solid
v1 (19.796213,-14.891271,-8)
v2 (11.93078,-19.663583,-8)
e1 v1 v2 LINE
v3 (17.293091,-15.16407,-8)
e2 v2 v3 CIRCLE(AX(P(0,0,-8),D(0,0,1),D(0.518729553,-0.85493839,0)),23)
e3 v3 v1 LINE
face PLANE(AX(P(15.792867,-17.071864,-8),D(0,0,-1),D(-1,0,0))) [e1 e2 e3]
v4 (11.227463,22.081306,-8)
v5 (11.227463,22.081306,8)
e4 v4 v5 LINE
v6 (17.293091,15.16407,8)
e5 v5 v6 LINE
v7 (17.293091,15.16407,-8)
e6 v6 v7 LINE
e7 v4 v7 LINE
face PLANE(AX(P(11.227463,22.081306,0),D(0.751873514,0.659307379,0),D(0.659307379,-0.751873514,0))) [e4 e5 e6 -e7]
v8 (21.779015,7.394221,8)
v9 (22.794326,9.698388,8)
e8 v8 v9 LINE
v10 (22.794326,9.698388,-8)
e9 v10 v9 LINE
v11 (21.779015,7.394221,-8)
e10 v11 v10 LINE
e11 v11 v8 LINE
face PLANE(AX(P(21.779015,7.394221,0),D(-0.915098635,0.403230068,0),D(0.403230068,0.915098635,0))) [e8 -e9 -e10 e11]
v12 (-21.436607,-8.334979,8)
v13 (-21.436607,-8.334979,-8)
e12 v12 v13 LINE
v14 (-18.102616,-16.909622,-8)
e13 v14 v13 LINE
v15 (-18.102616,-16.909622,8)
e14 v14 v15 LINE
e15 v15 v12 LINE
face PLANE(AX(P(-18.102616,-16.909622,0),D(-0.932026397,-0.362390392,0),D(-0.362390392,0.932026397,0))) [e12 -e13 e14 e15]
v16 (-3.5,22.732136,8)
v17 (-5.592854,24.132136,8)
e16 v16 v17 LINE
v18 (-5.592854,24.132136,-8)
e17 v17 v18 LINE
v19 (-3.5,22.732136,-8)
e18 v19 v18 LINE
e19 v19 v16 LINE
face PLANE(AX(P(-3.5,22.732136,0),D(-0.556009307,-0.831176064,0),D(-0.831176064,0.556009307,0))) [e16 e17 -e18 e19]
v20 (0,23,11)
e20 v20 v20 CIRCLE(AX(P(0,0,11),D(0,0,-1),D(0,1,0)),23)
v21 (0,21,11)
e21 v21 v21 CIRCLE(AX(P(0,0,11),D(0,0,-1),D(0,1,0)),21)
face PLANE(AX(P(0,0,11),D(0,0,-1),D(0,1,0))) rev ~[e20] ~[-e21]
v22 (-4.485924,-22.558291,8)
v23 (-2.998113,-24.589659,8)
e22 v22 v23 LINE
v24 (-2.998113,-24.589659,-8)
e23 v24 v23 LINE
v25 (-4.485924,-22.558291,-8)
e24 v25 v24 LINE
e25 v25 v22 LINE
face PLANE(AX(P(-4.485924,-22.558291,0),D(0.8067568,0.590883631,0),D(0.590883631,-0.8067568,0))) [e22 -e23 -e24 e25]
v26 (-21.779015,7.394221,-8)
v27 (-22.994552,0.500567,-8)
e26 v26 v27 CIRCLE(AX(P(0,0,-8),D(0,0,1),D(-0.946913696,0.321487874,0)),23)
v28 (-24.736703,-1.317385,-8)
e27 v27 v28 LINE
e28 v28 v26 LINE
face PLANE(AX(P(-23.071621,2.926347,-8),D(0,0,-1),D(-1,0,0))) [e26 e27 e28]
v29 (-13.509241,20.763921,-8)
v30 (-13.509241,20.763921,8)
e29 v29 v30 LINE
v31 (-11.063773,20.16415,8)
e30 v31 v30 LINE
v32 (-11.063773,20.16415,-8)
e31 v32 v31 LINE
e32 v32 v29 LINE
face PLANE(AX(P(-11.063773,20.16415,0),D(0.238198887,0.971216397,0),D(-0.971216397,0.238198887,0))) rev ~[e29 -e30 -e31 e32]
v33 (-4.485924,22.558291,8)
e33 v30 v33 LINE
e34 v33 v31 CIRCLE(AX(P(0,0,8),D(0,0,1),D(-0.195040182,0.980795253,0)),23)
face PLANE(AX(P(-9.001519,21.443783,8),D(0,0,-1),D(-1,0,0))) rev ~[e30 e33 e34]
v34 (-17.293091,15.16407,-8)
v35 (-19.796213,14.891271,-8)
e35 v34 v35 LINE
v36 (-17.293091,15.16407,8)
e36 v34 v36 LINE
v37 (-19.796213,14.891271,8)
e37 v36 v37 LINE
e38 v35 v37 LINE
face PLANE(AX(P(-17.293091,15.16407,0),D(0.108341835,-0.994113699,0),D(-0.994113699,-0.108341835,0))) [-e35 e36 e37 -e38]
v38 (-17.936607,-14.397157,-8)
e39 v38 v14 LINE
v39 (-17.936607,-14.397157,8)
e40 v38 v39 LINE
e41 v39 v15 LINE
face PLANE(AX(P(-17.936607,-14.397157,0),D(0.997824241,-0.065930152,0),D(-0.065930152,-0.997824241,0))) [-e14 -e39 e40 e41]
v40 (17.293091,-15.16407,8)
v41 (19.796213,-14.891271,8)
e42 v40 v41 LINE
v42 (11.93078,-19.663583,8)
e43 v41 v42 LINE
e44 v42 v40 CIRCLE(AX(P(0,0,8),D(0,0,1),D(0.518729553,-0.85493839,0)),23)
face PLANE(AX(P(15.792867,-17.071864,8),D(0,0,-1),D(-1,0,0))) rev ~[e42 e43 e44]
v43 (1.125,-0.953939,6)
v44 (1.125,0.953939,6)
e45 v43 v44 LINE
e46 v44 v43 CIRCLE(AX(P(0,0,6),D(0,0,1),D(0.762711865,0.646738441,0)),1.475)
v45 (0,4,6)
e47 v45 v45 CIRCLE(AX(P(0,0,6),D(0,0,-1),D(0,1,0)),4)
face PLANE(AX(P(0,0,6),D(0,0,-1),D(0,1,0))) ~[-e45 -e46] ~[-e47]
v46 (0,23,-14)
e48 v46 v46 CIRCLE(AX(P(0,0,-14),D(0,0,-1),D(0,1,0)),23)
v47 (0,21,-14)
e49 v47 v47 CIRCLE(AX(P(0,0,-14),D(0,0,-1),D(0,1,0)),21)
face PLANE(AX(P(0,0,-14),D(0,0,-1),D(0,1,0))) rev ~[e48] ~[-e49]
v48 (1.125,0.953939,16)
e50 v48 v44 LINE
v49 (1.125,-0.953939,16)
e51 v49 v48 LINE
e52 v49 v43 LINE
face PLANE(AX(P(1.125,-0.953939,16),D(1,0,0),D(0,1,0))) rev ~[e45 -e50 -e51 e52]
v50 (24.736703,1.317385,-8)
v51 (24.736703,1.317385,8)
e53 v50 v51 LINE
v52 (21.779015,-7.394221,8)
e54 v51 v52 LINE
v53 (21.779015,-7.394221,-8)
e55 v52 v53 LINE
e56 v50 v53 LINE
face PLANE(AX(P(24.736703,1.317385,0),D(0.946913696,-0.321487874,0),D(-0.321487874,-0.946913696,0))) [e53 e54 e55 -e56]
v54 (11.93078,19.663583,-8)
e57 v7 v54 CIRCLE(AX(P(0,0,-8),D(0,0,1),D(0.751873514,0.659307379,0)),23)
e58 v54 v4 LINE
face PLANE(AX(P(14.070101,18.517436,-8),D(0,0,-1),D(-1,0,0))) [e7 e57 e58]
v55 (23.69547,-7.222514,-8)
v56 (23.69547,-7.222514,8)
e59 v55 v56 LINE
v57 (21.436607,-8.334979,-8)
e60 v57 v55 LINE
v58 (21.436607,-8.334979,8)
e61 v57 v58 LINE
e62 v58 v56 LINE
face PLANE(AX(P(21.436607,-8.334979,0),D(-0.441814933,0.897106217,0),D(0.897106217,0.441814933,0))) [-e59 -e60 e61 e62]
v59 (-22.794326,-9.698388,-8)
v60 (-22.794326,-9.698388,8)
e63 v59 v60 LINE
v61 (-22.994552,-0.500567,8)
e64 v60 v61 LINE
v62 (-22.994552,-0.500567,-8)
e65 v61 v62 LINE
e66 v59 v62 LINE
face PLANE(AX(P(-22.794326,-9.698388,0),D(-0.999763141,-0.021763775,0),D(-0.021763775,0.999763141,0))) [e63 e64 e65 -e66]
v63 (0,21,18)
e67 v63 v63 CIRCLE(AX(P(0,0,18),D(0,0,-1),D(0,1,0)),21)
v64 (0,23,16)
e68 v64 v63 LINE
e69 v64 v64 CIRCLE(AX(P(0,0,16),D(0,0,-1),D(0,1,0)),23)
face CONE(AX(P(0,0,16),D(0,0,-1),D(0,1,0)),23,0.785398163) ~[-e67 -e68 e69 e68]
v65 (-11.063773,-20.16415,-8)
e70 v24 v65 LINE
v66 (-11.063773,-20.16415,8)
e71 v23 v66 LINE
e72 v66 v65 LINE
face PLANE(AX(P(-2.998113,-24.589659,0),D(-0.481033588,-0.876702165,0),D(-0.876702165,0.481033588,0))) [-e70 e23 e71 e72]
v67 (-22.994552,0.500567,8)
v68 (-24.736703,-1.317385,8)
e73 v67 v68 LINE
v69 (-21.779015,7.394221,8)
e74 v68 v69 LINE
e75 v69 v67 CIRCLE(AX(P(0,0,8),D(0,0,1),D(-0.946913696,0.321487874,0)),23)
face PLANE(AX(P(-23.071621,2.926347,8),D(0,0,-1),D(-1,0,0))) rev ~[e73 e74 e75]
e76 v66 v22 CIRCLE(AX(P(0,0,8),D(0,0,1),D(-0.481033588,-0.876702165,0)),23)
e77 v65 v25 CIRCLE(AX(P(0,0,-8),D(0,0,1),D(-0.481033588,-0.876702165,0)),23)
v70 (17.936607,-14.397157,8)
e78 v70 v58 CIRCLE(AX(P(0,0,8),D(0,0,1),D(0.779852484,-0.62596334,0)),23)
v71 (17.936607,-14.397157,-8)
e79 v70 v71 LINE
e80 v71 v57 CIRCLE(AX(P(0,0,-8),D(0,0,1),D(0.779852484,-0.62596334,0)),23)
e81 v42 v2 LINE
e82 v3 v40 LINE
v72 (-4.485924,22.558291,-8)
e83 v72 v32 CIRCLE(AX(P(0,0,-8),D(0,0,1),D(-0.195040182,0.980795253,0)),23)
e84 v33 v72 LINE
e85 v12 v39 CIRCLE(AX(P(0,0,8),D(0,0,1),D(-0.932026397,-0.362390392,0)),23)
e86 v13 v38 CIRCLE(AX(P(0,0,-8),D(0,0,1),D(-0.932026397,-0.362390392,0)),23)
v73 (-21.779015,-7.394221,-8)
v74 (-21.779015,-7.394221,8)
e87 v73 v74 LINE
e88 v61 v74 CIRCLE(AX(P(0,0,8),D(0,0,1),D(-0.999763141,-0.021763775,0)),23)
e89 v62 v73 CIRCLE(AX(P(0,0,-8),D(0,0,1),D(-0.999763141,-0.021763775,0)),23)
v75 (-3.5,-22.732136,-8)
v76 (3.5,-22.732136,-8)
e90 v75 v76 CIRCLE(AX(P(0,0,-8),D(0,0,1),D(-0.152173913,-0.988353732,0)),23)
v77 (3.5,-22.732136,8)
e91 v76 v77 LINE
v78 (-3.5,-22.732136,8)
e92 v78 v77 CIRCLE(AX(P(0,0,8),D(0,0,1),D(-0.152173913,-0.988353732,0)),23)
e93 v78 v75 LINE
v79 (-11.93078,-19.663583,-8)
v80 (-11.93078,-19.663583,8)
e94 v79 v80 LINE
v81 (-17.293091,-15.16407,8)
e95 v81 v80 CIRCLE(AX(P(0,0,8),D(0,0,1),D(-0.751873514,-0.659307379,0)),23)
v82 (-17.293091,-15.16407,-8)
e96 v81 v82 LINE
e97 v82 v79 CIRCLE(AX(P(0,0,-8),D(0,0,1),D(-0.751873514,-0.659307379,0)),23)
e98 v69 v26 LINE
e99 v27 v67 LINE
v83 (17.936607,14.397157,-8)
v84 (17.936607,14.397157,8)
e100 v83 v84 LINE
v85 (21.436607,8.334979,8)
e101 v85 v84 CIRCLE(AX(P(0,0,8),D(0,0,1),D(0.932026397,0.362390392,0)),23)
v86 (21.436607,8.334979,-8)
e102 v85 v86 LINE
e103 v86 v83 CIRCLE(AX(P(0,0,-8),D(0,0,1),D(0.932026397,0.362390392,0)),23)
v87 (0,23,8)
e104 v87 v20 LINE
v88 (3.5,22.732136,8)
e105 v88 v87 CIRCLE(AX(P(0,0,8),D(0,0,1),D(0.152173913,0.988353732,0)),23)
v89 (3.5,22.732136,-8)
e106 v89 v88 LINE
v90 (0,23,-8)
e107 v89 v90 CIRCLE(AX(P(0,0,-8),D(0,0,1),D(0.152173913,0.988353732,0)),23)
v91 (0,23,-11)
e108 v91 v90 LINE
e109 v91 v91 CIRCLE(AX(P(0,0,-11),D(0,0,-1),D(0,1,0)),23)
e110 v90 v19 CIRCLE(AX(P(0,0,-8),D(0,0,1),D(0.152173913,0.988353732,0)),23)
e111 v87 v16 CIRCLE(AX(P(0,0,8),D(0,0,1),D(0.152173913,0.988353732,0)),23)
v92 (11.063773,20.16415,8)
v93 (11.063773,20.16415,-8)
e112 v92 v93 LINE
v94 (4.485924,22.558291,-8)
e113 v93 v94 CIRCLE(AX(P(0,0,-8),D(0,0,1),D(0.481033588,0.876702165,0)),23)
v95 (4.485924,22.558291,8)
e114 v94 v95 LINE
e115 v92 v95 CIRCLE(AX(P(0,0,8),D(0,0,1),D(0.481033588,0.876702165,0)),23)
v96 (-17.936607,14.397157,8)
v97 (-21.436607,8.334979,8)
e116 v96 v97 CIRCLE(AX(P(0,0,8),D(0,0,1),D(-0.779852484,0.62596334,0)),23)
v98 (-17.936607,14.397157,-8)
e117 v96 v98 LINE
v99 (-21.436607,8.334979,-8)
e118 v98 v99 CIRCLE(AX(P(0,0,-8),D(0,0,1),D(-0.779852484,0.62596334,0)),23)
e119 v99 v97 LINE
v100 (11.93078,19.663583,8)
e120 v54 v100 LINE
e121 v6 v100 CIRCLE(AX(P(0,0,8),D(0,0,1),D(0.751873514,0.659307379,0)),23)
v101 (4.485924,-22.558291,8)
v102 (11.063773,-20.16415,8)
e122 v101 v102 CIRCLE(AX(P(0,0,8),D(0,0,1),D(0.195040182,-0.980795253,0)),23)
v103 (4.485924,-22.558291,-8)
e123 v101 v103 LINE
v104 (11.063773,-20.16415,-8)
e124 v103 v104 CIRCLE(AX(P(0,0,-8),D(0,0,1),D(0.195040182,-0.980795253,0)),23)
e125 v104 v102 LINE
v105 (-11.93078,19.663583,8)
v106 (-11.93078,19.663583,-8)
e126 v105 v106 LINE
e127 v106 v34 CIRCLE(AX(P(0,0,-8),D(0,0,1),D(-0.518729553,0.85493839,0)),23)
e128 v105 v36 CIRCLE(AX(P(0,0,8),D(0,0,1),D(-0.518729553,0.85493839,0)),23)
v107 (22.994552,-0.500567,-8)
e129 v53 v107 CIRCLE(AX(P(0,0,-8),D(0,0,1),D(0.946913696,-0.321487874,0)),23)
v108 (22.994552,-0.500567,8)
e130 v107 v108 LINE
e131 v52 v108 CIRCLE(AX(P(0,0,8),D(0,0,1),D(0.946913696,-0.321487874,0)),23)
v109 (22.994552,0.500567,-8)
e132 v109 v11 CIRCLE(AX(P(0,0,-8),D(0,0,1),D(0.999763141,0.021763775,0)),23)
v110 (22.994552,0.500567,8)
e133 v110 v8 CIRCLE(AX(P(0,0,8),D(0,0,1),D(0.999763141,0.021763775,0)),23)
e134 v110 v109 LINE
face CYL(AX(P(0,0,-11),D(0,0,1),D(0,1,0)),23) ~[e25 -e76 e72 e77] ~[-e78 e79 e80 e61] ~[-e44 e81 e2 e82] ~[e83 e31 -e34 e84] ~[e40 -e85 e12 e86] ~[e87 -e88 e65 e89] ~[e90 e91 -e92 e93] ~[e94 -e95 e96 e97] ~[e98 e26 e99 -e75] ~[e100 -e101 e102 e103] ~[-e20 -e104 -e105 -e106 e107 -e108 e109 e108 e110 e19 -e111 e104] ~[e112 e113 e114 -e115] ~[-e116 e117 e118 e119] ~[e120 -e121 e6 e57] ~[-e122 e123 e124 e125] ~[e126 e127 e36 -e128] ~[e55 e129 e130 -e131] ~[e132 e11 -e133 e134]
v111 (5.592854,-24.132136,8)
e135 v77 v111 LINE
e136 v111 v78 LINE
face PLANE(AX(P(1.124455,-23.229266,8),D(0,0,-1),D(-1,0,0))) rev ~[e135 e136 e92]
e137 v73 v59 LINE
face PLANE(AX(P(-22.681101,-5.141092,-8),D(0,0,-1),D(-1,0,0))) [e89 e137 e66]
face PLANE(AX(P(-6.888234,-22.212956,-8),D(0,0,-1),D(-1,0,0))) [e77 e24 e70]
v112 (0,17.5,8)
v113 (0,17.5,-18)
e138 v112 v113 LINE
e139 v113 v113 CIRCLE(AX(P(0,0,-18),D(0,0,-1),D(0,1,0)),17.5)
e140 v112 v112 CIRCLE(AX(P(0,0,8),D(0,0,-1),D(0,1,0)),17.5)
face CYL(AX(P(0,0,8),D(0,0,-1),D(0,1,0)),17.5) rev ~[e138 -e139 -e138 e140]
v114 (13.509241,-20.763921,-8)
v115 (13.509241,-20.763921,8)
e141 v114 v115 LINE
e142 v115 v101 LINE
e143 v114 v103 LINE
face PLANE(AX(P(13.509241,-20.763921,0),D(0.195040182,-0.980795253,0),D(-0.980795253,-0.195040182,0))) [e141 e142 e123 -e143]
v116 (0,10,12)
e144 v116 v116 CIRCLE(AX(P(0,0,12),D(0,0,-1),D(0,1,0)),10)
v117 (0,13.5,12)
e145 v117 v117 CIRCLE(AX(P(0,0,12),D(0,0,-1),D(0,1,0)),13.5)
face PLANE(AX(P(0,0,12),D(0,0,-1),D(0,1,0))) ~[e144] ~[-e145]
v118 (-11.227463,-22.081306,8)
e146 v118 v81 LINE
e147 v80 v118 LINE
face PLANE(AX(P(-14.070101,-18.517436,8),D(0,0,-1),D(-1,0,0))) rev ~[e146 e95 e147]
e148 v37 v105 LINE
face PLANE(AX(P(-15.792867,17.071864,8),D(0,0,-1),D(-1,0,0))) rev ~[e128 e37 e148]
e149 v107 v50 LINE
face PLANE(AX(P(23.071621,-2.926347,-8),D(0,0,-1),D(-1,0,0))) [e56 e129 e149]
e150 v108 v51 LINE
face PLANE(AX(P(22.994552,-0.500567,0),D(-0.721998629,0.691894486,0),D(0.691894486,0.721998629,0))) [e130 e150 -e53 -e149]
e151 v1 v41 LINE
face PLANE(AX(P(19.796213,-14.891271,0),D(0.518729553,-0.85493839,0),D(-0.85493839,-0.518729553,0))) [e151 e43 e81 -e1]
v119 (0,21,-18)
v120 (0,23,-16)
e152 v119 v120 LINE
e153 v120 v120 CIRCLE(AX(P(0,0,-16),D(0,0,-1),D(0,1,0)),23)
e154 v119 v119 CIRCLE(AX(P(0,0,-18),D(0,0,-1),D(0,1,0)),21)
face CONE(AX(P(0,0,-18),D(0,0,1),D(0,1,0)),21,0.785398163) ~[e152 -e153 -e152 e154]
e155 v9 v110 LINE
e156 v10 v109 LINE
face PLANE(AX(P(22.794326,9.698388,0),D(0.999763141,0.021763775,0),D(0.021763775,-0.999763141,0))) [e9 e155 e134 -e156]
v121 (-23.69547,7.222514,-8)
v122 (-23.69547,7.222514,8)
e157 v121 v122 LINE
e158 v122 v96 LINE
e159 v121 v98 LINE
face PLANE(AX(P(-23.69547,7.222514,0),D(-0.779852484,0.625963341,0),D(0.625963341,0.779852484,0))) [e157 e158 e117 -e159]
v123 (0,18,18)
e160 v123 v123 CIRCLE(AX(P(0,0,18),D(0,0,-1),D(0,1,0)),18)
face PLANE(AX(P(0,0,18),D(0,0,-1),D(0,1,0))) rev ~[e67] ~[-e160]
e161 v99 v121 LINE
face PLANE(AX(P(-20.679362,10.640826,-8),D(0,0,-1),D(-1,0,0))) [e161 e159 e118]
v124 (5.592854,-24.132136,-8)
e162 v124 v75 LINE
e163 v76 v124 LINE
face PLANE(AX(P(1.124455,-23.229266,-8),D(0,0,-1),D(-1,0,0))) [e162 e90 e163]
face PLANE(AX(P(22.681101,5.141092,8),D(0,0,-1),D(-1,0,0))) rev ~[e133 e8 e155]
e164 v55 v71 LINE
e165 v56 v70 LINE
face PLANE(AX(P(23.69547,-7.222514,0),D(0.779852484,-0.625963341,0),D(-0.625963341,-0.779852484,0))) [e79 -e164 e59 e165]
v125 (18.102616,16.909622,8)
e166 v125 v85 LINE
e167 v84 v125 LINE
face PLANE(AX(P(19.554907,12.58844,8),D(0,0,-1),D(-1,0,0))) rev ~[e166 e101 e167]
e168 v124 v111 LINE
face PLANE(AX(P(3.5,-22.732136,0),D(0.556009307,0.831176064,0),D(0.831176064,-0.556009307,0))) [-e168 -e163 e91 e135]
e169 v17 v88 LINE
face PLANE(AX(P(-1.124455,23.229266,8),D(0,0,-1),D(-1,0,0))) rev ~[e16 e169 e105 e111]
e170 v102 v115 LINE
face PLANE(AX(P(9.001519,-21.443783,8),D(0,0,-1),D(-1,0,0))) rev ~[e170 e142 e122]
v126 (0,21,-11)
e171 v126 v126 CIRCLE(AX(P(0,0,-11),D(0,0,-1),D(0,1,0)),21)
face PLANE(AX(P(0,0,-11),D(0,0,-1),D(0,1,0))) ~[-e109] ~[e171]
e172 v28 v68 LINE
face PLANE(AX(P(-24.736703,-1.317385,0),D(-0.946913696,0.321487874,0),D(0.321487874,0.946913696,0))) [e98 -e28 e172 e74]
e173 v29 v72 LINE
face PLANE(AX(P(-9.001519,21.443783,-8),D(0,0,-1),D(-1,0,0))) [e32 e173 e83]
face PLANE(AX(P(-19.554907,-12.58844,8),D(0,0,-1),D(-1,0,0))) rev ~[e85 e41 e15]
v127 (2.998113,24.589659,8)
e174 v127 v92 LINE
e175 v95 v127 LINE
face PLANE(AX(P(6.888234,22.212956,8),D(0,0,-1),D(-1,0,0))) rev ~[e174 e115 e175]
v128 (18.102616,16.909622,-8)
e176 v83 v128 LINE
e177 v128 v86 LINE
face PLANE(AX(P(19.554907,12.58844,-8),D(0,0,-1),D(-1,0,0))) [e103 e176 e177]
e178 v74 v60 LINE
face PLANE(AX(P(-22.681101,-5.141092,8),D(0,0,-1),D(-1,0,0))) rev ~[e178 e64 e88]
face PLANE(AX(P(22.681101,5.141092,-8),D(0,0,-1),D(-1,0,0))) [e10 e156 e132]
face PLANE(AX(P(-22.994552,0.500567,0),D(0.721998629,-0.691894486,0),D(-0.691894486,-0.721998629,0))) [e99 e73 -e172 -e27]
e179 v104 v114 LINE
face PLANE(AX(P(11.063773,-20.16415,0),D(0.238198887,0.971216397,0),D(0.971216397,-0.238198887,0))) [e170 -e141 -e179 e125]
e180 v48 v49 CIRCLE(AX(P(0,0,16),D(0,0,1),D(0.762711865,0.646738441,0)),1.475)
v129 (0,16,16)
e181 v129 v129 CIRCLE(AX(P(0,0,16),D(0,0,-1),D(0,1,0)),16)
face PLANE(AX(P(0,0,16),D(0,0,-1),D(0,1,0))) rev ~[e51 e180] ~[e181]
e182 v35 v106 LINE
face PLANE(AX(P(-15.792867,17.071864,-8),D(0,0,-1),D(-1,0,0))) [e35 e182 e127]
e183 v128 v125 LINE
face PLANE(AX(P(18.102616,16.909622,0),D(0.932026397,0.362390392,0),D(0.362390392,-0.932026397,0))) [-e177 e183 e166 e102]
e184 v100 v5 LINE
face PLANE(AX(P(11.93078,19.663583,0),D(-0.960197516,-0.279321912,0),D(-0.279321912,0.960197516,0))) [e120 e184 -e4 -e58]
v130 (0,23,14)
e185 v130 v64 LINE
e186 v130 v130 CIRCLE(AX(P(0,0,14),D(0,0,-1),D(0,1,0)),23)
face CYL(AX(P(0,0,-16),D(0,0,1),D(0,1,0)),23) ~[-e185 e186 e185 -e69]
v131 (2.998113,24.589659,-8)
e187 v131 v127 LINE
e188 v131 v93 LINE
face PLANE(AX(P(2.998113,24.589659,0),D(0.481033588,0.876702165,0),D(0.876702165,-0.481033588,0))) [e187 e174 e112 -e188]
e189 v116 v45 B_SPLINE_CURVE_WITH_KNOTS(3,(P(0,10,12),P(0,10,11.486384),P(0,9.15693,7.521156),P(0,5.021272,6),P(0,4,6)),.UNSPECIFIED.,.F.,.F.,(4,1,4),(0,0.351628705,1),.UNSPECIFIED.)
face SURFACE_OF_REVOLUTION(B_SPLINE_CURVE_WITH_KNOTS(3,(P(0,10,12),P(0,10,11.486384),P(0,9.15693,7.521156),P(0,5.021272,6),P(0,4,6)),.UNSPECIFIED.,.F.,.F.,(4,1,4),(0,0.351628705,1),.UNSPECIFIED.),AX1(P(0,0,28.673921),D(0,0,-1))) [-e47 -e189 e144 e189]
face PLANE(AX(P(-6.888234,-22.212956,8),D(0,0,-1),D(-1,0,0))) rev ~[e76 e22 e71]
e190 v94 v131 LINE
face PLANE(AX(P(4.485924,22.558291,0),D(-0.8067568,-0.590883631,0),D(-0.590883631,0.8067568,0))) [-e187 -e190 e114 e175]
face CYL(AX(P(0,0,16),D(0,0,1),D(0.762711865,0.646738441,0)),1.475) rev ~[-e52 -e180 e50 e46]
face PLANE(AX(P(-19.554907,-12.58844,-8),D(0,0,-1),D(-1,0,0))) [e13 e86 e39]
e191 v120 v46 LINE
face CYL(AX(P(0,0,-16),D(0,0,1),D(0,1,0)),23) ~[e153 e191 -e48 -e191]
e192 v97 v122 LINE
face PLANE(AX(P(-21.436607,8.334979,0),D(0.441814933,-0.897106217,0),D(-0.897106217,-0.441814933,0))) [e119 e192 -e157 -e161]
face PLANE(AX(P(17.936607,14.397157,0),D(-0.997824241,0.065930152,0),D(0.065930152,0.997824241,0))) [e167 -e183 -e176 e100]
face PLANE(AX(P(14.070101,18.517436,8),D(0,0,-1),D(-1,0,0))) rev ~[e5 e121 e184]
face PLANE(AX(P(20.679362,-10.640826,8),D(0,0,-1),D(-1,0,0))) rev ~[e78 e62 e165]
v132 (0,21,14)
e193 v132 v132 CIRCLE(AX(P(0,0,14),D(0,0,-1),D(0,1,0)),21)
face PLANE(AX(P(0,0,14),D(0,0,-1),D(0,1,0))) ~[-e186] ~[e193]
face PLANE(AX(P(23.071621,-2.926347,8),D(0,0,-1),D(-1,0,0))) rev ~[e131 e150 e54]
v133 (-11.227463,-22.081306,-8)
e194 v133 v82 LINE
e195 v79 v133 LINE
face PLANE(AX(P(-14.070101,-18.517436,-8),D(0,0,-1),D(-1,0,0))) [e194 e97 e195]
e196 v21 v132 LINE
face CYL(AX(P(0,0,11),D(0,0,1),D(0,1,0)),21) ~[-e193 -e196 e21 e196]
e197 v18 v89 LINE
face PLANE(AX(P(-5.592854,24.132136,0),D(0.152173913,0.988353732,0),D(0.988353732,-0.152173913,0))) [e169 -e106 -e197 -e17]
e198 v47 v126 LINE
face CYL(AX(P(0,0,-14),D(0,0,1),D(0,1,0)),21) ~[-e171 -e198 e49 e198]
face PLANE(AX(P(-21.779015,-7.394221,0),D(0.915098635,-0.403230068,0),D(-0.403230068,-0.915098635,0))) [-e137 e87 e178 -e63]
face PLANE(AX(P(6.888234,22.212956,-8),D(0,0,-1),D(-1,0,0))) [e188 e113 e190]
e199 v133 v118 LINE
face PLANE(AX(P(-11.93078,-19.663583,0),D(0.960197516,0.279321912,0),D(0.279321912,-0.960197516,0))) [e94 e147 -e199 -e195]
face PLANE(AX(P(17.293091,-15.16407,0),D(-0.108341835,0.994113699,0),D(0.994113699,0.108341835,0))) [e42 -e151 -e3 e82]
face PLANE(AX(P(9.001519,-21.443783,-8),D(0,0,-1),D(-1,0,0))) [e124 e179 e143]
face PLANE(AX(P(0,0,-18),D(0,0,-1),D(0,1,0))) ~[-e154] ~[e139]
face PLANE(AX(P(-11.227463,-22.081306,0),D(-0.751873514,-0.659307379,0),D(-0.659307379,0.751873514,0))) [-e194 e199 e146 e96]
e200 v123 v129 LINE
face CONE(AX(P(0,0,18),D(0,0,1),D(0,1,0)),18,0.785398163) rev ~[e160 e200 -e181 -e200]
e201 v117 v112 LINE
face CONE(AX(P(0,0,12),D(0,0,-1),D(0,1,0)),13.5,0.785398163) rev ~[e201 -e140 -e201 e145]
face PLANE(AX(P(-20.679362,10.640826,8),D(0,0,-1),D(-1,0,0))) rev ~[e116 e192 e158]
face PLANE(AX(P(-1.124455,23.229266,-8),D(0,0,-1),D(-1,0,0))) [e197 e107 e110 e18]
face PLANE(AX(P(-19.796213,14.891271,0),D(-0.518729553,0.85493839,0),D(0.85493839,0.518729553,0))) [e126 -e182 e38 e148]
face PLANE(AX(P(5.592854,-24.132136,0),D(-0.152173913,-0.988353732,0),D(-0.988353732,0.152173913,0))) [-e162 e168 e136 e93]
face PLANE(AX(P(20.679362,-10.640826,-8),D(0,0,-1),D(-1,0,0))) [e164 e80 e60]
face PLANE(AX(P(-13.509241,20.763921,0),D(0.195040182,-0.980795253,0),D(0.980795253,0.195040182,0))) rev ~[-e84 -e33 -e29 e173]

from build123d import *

# Parameters (mm, degrees)
CUT_EXTRUDE_1_DEPTH = 48.053161424
EXTRUDE_1_DEPTH     = 8


with BuildPart() as part:
    # Эскиз1 → Повернуть1 (revolve)
    with BuildSketch(Plane(origin=(0, 0, 0), x_dir=(0, 0, -1), z_dir=(1, 0, 0))):
        with BuildLine():
            Line((16, 23), (0, 23))
            Line((0, 23), (-16, 23))
            Line((-16, 23), (-18, 21))
            Line((-18, 21), (-18, 18))
            Line((-18, 18), (-16, 16))
            Line((-16, 16), (-16, 0))
            Line((-16, 0), (-14.334262465, 0))
            Line((-14.334262465, 0), (-6, 0))
            Line((-6, 0), (-6, 4))
            add(Edge.make_bspline(
                [(-12, 10), (-11.486384316, 10), (-7.521156143, 9.156929615), (-6, 5.021272174), (-6, 4)],
                knots=[0, 0, 0, 0, 0.351628705, 1, 1, 1, 1], degree=3))
            Line((-12, 10), (-12, 13.5))
            Line((-12, 13.5), (-8, 17.5))
            Line((-8, 17.5), (18, 17.5))
            Line((18, 17.5), (18, 21))
            Line((18, 21), (16, 23))
        make_face()
    revolve(axis=Axis((0, 0, 28.673920663), (0, 0, -1)))

    # Эскиз2 → Вырез-Вытянуть1 (cut, through all)
    with BuildSketch(Plane.XY.offset(16)):
        with BuildLine():
            Line((1.125, -0.953939201), (1.125, 0.953939201))
            ThreePointArc((1.125, 0.953939201), (-1.475, 0), (1.125, -0.953939201))
        make_face()
    extrude(amount=-CUT_EXTRUDE_1_DEPTH, mode=Mode.SUBTRACT)

    # Эскиз3 → Вырез-Повернуть1 (revolve, cut)
    with BuildSketch(Plane(origin=(0, 0, 0), x_dir=(0, 0, -1), z_dir=(1, 0, 0))):
        Polygon((18, 21), (16, 23), (14, 23), (14, 21), (11, 21), (11, 23), (-11, 23), (-11, 21), (-14, 21), (-14, 23), (-16, 23), (-18, 21), (-18, 24.334722486), (18, 24.334722486), align=None)
    revolve(axis=Axis((0, 0, 27.637589676), (0, 0, -1)), mode=Mode.SUBTRACT)

    # Эскиз4 → Бобышка-Вытянуть1 (add, symmetric)
    with BuildSketch(Plane.XY):
        with BuildLine():
            Line((-3.5, 22.732135843), (-5.592854337, 24.132135843))
            Line((-5.592854337, 24.132135843), (3.5, 22.732135843))
            ThreePointArc((3.5, 22.732135843), (0, 23), (-3.5, 22.732135843))
        make_face()
        with BuildLine():
            Line((2.99811261, 24.589658818), (11.063772532, 20.164149805))
            ThreePointArc((11.063772532, 20.164149805), (7.866463296, 21.612930278), (4.485924186, 22.558290808))
            Line((4.485924186, 22.558290808), (2.99811261, 24.589658818))
        make_face()
        with BuildLine():
            Line((11.227462929, 22.081306034), (17.293090813, 15.164069709))
            ThreePointArc((17.293090813, 15.164069709), (14.784115023, 17.619022192), (11.930779711, 19.663582977))
            Line((11.930779711, 19.663582977), (11.227462929, 22.081306034))
        make_face()
        with BuildLine():
            Line((18.102615519, 16.909621857), (21.436607123, 8.334979008))
            ThreePointArc((21.436607123, 8.334979008), (19.918584287, 11.5), (17.936607123, 14.397156835))
            Line((17.936607123, 14.397156835), (18.102615519, 16.909621857))
        make_face()
        with BuildLine():
            Line((22.794325512, 9.698387725), (22.994552243, 0.500566828))
            ThreePointArc((22.994552243, 0.500566828), (22.650578319, 3.993908086), (21.779014999, 7.394221099))
            Line((21.779014999, 7.394221099), (22.794325512, 9.698387725))
        make_face()
        with BuildLine():
            Line((24.736703439, 1.3173849), (21.779014999, -7.394221099))
            ThreePointArc((21.779014999, -7.394221099), (22.650578319, -3.993908086), (22.994552243, -0.500566828))
            Line((22.994552243, -0.500566828), (24.736703439, 1.3173849))
        make_face()
        with BuildLine():
            Line((23.695469857, -7.222513986), (17.936607123, -14.397156835))
            ThreePointArc((17.936607123, -14.397156835), (19.918584287, -11.5), (21.436607123, -8.334979008))
            Line((21.436607123, -8.334979008), (23.695469857, -7.222513986))
        make_face()
        with BuildLine():
            Line((19.796212902, -14.891271093), (11.930779711, -19.663582977))
            ThreePointArc((11.930779711, -19.663582977), (14.784115023, -17.619022192), (17.293090813, -15.164069709))
            Line((17.293090813, -15.164069709), (19.796212902, -14.891271093))
        make_face()
        with BuildLine():
            Line((13.50924051, -20.763921134), (4.485924186, -22.558290808))
            ThreePointArc((4.485924186, -22.558290808), (7.866463296, -21.612930278), (11.063772532, -20.164149805))
            Line((11.063772532, -20.164149805), (13.50924051, -20.763921134))
        make_face()
        with BuildLine():
            Line((5.592854337, -24.132135843), (-3.5, -22.732135843))
            ThreePointArc((-3.5, -22.732135843), (0, -23), (3.5, -22.732135843))
            Line((3.5, -22.732135843), (5.592854337, -24.132135843))
        make_face()
        with BuildLine():
            Line((-2.99811261, -24.589658818), (-11.063772532, -20.164149805))
            ThreePointArc((-11.063772532, -20.164149805), (-7.866463296, -21.612930278), (-4.485924186, -22.558290808))
            Line((-4.485924186, -22.558290808), (-2.99811261, -24.589658818))
        make_face()
        with BuildLine():
            Line((-11.227462929, -22.081306034), (-17.293090813, -15.164069709))
            ThreePointArc((-17.293090813, -15.164069709), (-14.784115023, -17.619022192), (-11.930779711, -19.663582977))
            Line((-11.930779711, -19.663582977), (-11.227462929, -22.081306034))
        make_face()
        with BuildLine():
            Line((-18.102615519, -16.909621857), (-21.436607123, -8.334979008))
            ThreePointArc((-21.436607123, -8.334979008), (-19.918584287, -11.5), (-17.936607123, -14.397156835))
            Line((-17.936607123, -14.397156835), (-18.102615519, -16.909621857))
        make_face()
        with BuildLine():
            Line((-22.794325512, -9.698387725), (-22.994552243, -0.500566828))
            ThreePointArc((-22.994552243, -0.500566828), (-22.650578319, -3.993908086), (-21.779014999, -7.394221099))
            Line((-21.779014999, -7.394221099), (-22.794325512, -9.698387725))
        make_face()
        with BuildLine():
            Line((-24.736703439, -1.3173849), (-21.779014999, 7.394221099))
            ThreePointArc((-21.779014999, 7.394221099), (-22.650578319, 3.993908086), (-22.994552243, 0.500566828))
            Line((-22.994552243, 0.500566828), (-24.736703439, -1.3173849))
        make_face()
        with BuildLine():
            Line((-23.695469857, 7.222513986), (-17.936607123, 14.397156835))
            ThreePointArc((-17.936607123, 14.397156835), (-19.918584287, 11.5), (-21.436607123, 8.334979008))
            Line((-21.436607123, 8.334979008), (-23.695469857, 7.222513986))
        make_face()
        with BuildLine():
            Line((-19.796212902, 14.891271093), (-11.930779711, 19.663582977))
            ThreePointArc((-11.930779711, 19.663582977), (-14.784115023, 17.619022192), (-17.293090813, 15.164069709))
            Line((-17.293090813, 15.164069709), (-19.796212902, 14.891271093))
        make_face()
        with BuildLine():
            Line((-13.50924051, 20.763921134), (-4.485924186, 22.558290808))
            ThreePointArc((-4.485924186, 22.558290808), (-7.866463296, 21.612930278), (-11.063772532, 20.164149805))
            Line((-11.063772532, 20.164149805), (-13.50924051, 20.763921134))
        make_face()
    extrude(amount=EXTRUDE_1_DEPTH, both=True)


solid = part.part
